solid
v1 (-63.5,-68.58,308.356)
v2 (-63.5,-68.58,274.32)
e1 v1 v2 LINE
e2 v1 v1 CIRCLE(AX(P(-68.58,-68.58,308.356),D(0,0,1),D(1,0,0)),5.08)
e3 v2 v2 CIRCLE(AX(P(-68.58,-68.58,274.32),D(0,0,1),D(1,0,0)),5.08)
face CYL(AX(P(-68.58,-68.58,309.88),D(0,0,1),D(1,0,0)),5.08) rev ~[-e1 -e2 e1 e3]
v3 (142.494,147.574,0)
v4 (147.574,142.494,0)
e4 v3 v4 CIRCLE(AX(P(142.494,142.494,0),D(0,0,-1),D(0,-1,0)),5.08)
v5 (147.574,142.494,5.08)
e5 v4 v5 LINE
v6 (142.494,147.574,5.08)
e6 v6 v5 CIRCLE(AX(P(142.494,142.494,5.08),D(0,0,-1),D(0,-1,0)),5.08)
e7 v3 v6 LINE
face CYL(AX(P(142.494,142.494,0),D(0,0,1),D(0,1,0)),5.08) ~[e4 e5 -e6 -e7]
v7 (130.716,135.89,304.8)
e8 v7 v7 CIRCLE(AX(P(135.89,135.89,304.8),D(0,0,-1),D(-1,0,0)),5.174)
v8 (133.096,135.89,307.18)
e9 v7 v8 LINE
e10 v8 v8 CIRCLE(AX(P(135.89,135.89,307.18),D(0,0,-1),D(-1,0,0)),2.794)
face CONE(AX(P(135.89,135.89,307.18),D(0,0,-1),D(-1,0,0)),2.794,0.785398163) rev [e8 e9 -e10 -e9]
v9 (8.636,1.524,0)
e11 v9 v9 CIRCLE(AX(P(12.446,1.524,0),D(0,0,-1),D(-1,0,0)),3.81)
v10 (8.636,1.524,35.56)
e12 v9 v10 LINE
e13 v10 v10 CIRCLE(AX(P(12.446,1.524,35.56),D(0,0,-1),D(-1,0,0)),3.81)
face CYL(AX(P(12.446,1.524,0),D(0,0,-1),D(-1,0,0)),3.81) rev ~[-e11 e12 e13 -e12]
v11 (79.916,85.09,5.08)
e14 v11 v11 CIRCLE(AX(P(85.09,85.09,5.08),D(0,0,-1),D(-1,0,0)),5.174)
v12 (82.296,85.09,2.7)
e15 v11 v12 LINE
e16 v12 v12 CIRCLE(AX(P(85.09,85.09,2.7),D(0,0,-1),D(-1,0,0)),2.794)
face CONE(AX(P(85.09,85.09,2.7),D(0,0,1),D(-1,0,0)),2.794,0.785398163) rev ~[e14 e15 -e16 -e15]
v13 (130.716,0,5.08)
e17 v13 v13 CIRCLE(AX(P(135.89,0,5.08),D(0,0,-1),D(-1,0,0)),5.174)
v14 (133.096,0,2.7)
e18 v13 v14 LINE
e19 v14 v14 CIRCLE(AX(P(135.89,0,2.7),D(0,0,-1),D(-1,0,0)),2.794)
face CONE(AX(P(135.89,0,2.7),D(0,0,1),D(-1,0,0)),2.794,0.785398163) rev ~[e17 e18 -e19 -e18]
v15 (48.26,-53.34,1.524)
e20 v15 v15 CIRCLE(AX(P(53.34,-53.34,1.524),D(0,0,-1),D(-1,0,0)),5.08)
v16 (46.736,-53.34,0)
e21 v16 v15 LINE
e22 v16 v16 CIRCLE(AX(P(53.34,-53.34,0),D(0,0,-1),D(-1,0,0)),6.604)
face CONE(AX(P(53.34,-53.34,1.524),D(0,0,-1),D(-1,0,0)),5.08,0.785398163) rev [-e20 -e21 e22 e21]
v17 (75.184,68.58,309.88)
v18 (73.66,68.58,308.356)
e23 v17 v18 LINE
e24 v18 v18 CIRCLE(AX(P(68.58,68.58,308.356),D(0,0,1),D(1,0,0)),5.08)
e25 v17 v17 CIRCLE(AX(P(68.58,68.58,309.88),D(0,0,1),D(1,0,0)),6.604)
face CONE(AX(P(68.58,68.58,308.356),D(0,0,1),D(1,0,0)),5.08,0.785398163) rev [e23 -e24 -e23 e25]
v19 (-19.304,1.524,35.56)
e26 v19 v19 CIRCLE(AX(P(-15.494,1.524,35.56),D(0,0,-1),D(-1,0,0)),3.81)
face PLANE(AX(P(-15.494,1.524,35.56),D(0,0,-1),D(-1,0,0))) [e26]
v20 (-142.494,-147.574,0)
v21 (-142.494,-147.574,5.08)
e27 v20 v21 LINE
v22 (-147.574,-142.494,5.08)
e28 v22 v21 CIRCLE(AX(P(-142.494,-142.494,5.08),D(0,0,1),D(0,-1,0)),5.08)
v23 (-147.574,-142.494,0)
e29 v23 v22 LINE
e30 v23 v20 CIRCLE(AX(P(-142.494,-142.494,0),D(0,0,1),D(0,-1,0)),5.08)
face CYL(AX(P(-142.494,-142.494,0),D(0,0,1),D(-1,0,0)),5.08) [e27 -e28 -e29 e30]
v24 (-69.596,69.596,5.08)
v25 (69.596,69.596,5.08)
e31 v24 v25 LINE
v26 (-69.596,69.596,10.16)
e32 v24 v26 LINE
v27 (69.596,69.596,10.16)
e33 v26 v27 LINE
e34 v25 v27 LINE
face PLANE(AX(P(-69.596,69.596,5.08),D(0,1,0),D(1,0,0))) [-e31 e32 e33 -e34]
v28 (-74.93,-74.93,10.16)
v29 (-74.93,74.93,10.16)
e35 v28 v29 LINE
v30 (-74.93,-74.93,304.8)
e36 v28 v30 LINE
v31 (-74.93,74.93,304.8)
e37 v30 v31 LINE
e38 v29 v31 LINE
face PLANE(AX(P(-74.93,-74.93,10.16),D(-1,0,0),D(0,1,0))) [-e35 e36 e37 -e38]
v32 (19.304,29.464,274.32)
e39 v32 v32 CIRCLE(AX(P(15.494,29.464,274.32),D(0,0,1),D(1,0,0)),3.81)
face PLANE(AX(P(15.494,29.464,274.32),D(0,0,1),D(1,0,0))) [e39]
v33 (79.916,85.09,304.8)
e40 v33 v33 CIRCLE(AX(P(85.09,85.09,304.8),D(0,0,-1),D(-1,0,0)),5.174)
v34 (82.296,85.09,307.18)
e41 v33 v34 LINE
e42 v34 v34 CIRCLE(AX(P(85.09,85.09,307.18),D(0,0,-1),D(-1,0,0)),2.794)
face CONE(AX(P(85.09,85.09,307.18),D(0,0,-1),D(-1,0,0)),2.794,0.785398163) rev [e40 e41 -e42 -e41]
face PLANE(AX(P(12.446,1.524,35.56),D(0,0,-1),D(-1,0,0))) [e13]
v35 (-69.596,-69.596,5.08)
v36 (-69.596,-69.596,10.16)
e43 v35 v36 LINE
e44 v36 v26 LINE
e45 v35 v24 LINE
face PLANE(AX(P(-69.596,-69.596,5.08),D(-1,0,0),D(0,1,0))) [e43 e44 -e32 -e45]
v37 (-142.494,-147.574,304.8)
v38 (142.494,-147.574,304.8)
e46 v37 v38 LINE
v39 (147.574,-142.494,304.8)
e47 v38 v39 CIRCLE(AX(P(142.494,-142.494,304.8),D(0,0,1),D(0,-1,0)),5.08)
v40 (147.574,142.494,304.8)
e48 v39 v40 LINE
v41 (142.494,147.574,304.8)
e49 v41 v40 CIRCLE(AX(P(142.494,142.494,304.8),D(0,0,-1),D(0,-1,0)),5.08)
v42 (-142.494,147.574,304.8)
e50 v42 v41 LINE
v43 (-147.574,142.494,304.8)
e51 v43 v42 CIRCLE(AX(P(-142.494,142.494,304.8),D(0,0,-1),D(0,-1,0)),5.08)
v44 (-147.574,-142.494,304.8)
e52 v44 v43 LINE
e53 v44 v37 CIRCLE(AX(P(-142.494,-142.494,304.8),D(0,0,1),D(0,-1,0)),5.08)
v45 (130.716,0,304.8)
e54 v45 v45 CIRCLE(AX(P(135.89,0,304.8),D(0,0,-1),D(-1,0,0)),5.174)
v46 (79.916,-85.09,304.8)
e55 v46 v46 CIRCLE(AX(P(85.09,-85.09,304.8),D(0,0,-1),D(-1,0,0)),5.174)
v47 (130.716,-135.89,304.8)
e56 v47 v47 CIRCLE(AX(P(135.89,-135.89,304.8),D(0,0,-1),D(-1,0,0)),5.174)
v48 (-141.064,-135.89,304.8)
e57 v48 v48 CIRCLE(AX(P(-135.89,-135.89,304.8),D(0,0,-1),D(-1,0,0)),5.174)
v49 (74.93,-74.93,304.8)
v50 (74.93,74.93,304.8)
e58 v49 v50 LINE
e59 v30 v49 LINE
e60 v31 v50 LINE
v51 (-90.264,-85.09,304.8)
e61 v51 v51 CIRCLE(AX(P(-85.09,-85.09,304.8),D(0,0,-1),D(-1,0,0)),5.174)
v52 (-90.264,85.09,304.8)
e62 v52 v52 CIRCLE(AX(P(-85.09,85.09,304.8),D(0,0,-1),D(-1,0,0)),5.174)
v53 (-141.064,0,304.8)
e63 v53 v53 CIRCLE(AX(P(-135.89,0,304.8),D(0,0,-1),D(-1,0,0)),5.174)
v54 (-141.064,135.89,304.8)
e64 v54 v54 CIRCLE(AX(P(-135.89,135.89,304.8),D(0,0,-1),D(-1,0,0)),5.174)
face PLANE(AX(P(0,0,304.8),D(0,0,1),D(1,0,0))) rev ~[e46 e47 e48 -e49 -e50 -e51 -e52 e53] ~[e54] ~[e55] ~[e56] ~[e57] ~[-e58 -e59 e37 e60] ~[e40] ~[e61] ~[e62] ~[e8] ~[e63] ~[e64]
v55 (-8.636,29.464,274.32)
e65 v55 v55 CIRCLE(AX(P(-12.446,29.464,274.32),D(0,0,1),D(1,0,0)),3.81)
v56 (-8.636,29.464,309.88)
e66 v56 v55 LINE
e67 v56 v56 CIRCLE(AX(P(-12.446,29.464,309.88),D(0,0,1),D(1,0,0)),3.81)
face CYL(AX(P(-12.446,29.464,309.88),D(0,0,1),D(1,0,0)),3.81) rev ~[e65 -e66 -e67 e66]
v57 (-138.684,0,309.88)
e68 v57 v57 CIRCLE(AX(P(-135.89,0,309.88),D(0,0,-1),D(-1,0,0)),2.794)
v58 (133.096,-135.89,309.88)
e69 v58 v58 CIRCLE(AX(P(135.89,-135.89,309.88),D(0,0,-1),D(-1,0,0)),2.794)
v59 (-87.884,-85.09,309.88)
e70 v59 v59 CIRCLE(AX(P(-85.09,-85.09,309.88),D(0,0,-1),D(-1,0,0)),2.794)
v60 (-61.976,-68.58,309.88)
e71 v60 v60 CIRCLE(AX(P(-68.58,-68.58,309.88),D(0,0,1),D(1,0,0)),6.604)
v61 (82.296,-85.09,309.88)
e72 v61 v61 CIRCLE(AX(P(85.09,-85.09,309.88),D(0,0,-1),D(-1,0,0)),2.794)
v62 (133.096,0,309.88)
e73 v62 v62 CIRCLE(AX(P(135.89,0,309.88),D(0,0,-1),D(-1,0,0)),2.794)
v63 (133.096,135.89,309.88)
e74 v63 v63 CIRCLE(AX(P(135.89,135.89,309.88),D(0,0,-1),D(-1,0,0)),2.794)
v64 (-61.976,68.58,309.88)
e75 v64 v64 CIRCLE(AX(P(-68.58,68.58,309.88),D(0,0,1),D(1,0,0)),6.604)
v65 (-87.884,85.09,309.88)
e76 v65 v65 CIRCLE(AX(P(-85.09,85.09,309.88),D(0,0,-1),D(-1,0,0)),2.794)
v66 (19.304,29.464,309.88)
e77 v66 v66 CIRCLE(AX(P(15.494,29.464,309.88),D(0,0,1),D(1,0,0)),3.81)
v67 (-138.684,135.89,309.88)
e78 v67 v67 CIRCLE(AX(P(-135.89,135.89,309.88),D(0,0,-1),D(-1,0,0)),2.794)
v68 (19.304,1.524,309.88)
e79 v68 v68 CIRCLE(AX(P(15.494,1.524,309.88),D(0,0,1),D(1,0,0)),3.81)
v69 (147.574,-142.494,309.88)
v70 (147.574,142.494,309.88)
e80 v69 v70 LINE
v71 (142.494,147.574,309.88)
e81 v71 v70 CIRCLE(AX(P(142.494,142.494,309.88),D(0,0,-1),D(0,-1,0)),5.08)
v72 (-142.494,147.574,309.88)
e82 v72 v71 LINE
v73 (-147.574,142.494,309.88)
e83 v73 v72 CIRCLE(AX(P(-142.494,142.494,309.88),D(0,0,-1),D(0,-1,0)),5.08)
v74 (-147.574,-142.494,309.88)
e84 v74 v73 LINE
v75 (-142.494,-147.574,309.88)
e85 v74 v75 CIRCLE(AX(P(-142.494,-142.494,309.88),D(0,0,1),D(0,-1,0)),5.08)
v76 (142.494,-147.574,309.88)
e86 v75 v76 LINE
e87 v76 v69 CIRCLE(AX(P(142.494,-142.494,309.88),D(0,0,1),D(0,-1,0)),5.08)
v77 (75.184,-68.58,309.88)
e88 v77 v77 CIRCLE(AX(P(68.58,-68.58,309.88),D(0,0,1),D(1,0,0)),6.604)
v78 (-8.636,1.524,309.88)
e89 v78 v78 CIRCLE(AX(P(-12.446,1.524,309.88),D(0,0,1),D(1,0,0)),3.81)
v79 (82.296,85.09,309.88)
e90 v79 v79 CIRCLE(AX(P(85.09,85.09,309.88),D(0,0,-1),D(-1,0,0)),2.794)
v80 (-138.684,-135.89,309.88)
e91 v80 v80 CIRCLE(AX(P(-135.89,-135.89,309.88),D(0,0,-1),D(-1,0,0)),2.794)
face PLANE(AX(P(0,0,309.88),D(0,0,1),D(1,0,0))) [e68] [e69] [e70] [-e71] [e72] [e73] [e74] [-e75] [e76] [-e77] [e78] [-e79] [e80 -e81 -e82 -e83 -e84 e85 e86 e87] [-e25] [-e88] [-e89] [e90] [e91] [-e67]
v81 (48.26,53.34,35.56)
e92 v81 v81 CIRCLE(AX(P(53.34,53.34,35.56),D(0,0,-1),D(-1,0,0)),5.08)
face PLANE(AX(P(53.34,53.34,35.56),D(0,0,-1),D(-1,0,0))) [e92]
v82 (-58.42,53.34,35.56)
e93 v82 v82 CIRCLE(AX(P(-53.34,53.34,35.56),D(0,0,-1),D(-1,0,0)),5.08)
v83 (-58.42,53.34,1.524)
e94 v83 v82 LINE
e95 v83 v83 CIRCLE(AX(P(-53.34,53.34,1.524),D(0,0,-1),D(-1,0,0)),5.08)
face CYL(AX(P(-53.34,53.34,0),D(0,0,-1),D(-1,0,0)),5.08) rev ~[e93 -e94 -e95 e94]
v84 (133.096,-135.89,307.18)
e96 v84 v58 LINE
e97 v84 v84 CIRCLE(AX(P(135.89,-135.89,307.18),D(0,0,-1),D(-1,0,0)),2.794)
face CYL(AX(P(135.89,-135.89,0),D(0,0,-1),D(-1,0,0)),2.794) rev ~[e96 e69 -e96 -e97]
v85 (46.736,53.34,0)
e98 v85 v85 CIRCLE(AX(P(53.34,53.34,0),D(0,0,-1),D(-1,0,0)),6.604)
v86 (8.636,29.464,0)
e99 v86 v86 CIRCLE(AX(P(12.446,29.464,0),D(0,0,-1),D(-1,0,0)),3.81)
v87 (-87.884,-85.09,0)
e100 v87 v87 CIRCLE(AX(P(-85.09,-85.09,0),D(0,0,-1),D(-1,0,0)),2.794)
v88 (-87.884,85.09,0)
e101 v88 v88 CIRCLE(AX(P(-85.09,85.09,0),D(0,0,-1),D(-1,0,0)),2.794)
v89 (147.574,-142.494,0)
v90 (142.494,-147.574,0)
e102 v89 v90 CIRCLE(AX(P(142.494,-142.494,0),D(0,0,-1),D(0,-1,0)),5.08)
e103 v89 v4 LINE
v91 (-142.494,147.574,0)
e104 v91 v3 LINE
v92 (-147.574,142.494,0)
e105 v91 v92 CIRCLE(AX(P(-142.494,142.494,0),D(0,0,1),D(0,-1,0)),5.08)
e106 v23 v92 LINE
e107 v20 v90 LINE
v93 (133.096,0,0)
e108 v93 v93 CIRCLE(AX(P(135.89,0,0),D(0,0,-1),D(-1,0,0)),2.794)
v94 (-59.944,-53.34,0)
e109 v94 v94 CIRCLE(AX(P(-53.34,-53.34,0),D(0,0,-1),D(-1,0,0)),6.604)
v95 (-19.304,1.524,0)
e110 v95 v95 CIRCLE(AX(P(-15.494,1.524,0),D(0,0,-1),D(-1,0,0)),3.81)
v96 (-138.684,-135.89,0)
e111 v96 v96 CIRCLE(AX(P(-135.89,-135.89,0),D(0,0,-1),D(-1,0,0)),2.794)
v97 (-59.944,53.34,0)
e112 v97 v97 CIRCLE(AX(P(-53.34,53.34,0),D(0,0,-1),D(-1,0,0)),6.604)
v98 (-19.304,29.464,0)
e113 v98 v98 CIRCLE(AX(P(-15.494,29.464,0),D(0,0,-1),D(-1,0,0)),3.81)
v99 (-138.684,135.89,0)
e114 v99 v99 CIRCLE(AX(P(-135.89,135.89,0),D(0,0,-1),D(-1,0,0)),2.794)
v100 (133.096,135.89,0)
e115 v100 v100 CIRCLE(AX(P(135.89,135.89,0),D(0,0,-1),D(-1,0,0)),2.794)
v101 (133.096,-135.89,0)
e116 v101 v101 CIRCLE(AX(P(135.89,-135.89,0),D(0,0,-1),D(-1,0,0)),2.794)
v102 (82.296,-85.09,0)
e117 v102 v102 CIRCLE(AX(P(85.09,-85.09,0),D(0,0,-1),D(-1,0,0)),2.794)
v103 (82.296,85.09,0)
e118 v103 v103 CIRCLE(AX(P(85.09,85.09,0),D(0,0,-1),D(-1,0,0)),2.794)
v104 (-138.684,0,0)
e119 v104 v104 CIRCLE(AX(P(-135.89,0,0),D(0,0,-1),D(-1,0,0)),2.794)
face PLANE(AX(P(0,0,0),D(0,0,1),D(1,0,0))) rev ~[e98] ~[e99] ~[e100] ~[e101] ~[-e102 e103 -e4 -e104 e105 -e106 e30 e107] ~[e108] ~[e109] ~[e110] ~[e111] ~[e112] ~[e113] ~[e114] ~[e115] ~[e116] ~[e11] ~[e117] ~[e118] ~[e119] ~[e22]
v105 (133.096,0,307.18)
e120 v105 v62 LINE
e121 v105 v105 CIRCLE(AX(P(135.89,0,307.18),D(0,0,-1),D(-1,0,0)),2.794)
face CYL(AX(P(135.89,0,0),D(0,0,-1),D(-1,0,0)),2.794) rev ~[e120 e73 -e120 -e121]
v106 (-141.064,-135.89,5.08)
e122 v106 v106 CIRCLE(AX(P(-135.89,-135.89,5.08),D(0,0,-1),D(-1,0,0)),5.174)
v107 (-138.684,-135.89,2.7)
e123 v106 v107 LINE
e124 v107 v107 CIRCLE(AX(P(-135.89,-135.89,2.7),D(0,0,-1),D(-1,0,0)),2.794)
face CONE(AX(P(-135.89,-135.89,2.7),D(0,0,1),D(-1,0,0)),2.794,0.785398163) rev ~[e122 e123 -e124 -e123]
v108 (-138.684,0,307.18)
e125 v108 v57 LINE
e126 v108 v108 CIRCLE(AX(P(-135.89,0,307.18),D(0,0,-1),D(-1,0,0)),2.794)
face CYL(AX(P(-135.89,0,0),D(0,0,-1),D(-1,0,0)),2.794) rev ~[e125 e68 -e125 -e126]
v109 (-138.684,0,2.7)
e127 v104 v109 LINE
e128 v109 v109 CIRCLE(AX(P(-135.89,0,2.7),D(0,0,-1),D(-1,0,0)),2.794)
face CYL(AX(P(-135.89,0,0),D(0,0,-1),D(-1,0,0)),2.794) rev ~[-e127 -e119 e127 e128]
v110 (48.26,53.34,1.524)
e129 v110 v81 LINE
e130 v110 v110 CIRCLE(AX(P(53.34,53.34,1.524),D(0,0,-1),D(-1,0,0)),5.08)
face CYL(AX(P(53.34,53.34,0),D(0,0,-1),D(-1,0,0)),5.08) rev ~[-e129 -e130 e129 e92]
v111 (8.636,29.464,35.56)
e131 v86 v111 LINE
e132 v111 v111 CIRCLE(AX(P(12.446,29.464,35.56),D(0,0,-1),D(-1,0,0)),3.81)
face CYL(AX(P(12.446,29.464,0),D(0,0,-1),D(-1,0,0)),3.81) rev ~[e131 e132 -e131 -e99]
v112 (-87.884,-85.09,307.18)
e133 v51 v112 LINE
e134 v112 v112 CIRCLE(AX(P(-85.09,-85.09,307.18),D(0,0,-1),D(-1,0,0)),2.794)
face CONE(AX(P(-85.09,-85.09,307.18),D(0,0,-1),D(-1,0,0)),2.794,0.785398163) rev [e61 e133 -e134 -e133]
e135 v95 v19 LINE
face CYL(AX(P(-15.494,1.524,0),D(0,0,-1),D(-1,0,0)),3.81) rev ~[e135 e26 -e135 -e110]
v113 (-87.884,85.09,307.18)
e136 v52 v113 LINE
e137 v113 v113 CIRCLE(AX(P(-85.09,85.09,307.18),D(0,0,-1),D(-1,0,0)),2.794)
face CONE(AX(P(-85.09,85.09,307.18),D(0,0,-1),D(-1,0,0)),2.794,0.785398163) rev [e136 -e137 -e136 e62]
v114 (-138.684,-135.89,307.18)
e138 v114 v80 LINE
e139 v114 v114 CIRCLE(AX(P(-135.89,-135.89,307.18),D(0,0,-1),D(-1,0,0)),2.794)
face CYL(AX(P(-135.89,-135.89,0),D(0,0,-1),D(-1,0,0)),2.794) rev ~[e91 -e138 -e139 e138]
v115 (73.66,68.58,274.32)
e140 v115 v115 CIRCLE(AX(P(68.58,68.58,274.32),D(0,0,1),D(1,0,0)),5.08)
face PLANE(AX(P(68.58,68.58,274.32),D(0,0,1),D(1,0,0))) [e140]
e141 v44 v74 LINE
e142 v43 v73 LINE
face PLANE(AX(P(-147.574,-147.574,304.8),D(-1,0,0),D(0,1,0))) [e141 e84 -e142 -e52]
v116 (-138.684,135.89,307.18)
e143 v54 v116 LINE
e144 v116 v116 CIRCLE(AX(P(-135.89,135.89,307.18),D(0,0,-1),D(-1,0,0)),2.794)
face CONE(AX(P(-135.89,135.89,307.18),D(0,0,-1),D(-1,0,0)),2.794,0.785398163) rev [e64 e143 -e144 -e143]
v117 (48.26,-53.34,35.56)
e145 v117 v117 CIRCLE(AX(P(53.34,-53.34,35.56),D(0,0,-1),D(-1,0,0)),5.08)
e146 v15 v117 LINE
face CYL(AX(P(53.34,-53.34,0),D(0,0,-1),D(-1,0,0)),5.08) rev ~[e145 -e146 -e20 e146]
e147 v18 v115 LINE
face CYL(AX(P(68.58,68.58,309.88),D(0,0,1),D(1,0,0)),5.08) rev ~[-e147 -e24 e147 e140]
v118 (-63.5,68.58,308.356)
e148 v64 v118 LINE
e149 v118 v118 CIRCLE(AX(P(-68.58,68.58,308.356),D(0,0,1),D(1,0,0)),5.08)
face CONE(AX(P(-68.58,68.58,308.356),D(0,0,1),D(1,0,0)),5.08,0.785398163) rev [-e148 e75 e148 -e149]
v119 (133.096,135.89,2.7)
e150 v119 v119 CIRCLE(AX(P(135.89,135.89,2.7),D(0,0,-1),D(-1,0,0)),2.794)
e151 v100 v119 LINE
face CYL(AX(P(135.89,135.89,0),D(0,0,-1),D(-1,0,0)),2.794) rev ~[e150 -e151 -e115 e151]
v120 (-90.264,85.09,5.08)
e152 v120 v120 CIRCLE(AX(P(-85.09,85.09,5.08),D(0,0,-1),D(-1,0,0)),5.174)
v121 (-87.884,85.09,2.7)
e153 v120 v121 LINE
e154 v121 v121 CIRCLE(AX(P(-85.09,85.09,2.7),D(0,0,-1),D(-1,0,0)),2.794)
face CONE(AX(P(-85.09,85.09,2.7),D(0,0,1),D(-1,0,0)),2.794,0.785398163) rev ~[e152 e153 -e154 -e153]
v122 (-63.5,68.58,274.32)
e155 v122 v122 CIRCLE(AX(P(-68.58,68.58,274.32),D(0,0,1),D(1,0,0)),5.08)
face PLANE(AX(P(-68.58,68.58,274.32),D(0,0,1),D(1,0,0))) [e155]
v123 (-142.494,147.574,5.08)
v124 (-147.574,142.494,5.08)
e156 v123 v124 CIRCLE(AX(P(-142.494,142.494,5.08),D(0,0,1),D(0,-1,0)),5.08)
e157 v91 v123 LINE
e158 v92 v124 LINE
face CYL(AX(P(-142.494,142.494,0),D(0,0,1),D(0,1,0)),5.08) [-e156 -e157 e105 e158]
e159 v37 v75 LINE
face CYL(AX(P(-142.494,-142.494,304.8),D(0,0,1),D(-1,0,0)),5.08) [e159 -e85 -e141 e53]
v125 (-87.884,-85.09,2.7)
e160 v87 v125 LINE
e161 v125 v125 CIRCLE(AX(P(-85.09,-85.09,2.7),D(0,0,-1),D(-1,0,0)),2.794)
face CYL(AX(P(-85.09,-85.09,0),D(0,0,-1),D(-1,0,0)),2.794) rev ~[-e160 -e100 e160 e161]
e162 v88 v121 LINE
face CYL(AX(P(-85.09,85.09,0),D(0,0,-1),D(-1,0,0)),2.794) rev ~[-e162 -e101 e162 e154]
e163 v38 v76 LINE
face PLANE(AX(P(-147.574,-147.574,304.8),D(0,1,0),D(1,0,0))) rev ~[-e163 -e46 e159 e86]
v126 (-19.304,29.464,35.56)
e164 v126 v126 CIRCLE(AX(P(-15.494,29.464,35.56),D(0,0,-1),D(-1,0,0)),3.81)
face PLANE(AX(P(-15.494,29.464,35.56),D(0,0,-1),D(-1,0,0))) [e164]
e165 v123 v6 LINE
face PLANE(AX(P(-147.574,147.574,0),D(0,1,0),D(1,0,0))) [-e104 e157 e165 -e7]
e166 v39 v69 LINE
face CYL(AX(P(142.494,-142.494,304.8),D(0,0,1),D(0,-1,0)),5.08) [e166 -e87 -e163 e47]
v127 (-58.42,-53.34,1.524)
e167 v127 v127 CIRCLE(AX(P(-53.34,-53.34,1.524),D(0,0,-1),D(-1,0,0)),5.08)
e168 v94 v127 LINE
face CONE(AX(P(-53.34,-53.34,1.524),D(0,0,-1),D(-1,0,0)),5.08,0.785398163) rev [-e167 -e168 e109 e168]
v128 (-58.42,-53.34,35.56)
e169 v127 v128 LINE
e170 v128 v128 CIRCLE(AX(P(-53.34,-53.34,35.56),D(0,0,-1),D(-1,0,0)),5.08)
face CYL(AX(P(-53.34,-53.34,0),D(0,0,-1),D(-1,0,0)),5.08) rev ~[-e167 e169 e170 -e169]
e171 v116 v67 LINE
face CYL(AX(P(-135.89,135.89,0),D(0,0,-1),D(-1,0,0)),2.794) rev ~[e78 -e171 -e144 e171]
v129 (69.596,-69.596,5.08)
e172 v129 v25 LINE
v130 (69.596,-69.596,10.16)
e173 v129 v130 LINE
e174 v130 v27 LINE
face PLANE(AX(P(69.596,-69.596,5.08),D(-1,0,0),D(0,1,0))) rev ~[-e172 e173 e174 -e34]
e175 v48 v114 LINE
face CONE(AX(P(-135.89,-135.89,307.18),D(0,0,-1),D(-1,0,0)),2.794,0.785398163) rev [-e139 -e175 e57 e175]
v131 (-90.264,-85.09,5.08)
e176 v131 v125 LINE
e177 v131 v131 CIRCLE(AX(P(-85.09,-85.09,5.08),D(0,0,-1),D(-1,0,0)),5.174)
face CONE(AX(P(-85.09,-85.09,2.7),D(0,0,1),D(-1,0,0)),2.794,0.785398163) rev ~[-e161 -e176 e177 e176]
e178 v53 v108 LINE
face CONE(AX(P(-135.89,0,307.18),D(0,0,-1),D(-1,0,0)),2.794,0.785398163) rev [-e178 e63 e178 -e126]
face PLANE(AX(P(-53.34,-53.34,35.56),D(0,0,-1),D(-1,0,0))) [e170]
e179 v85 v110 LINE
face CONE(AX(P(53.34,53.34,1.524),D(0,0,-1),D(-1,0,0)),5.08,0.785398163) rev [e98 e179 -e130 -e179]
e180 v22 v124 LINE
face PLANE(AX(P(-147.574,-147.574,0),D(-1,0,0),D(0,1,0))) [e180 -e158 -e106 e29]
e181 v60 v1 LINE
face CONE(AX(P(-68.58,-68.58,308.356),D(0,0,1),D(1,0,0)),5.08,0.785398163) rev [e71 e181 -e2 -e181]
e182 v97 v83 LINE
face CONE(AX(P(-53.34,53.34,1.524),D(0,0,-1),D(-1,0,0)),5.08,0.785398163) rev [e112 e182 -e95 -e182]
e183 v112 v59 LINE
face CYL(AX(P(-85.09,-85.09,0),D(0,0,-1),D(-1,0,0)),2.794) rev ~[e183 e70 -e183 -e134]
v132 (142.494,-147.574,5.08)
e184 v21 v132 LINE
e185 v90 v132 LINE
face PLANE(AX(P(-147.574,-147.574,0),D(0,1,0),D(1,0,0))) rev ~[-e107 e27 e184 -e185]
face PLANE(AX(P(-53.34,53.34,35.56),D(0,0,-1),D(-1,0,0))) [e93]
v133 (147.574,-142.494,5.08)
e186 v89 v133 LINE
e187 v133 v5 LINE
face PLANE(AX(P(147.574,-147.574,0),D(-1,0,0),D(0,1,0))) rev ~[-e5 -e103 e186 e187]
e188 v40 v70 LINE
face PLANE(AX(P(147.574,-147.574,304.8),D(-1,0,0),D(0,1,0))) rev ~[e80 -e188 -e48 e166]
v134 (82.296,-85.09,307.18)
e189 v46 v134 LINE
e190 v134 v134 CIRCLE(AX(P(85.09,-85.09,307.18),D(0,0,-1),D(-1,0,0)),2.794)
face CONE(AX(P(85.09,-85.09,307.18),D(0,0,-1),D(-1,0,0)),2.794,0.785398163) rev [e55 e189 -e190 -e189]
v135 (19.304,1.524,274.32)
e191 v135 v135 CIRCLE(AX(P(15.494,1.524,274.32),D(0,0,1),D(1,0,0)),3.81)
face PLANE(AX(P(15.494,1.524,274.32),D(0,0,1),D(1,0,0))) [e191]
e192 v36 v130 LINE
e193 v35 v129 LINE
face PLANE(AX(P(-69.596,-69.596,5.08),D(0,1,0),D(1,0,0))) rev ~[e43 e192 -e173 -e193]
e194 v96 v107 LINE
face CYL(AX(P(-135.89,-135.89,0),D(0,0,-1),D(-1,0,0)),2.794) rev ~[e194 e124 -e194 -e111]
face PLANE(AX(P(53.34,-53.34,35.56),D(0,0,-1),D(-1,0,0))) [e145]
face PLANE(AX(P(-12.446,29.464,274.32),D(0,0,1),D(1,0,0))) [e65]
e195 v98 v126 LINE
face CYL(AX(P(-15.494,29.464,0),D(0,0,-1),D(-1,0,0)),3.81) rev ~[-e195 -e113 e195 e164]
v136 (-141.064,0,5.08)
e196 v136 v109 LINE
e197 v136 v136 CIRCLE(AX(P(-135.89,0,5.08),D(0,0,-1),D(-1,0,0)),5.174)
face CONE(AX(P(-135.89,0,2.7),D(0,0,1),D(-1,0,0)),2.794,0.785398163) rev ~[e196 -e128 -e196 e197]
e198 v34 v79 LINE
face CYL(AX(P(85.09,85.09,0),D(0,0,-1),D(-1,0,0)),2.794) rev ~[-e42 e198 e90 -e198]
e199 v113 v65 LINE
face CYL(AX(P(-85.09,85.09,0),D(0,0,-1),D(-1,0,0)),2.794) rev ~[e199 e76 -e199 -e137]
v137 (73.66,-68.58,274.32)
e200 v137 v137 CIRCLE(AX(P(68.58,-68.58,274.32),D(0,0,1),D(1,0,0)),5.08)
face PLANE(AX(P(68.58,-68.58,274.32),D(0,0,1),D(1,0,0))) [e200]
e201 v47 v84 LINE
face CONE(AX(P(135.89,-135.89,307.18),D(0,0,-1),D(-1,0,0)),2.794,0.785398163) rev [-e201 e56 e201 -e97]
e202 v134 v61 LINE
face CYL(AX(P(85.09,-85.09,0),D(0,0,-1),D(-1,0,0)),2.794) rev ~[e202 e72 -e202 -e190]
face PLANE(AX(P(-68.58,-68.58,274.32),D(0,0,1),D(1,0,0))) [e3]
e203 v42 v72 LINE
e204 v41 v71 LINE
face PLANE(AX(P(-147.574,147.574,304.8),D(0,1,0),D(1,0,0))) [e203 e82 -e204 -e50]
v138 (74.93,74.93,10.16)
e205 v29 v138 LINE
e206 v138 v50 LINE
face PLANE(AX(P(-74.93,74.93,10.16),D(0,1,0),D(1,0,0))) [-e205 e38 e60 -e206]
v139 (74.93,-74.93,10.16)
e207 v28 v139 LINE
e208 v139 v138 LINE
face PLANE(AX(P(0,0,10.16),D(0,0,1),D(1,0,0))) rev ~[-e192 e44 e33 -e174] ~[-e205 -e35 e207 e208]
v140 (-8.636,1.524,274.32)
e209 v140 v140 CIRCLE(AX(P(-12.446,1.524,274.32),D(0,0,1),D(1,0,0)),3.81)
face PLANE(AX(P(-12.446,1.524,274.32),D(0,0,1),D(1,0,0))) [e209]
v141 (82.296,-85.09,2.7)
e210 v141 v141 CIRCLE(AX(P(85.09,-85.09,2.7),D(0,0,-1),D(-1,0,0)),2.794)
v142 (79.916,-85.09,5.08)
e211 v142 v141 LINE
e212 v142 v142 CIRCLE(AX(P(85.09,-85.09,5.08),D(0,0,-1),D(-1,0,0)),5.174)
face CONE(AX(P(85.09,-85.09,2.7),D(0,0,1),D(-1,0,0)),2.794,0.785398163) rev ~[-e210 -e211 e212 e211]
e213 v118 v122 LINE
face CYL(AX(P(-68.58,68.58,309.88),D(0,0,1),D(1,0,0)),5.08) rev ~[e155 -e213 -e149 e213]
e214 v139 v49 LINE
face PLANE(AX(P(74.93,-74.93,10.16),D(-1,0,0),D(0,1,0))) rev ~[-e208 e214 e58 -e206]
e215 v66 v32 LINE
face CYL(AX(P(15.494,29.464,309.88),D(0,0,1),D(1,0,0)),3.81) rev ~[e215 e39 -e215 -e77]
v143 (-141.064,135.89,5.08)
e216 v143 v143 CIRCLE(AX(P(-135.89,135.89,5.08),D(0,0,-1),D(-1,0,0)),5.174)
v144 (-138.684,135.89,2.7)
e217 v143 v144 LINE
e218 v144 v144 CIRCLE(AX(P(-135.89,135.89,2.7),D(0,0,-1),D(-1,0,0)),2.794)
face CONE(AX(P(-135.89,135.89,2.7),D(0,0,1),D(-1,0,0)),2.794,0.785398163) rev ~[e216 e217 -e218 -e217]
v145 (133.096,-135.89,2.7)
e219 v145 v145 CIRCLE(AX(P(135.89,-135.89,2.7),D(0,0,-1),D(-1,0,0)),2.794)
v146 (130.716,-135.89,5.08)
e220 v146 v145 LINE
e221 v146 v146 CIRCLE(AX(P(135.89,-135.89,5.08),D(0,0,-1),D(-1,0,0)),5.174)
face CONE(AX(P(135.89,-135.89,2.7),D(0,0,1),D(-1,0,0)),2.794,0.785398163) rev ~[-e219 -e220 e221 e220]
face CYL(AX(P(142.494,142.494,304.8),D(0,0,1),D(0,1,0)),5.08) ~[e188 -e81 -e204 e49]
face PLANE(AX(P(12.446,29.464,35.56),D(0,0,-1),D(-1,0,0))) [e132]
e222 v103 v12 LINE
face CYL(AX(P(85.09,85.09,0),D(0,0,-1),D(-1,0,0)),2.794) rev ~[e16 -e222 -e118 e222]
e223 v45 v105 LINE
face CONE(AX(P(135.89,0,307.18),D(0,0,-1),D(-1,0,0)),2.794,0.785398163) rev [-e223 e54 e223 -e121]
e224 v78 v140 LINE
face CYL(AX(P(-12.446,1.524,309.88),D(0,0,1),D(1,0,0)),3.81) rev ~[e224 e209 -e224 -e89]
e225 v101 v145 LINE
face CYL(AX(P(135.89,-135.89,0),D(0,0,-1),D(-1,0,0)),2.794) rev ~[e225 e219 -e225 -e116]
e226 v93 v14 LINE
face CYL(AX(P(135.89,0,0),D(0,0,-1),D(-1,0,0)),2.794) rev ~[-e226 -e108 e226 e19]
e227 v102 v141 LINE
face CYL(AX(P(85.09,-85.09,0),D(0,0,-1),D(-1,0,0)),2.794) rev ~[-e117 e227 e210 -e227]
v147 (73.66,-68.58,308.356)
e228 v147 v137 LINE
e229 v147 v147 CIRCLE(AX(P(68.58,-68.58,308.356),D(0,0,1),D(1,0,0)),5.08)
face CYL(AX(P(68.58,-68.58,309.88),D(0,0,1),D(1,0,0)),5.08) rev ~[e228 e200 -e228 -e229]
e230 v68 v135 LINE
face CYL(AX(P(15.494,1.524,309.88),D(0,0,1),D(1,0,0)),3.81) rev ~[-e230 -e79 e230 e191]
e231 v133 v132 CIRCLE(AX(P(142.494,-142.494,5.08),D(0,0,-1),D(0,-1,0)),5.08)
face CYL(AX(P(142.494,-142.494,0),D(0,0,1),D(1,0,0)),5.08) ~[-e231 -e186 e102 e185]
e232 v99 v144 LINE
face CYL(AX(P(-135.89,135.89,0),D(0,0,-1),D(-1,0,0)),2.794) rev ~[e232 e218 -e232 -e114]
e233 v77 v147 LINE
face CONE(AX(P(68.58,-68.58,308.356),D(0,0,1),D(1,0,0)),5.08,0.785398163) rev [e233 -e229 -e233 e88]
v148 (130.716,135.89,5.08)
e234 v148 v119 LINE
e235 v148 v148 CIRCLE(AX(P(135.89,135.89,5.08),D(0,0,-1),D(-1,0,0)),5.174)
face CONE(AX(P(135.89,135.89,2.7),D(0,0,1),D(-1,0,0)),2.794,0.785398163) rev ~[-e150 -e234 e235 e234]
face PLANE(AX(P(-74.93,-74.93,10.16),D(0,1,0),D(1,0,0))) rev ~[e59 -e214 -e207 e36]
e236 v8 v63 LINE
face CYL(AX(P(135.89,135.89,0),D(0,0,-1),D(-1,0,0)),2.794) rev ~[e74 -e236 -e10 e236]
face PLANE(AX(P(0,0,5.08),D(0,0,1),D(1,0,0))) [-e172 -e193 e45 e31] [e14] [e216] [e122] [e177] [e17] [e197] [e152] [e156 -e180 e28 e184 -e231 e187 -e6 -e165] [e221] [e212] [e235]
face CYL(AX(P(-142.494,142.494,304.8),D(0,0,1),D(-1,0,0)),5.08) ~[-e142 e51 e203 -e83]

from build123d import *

# Parameters (mm, degrees)
SKETCH1_W           = 295.148
SKETCH1_H           = 295.148
BOSS_EXTRUDE1_DEPTH = 5.08
SKETCH2_W           = 139.192
SKETCH2_H           = 139.192
BOSS_EXTRUDE2_DEPTH = 5.08
SKETCH3_W           = 149.86
SKETCH3_H           = 149.86
BOSS_EXTRUDE3_DEPTH = 294.64
SKETCH4_W           = 295.148
SKETCH4_H           = 295.148
BOSS_EXTRUDE4_DEPTH = 5.08
SKETCH5_R           = 2.794
CUT_EXTRUDE1_DEPTH  = 310.88
CHAMFER1_SIZE       = 2.38
CHAMFER2_SIZE       = 2.38
FILLET1_R           = 5.08
FILLET2_R           = 5.08
SKETCH6_R           = 5.08
CUT_EXTRUDE3_DEPTH  = 35.56
CHAMFER3_SIZE       = 1.524
SKETCH7_R           = 5.08
CUT_EXTRUDE4_DEPTH  = 35.56
CHAMFER5_SIZE       = 1.524
SKETCH8_R           = 3.81
CUT_EXTRUDE5_DEPTH  = 35.56
SKETCH9_R           = 3.81
CUT_EXTRUDE6_DEPTH  = 35.56


with BuildPart() as part:
    # Sketch1 → Boss-Extrude1 (new body)
    with BuildSketch(Plane.XY):
        Rectangle(SKETCH1_W, SKETCH1_H)
    extrude(amount=BOSS_EXTRUDE1_DEPTH)

    # Sketch2 → Boss-Extrude2 (add)
    with BuildSketch(Plane.XY.offset(5.08)):
        Rectangle(SKETCH2_W, SKETCH2_H)
    extrude(amount=BOSS_EXTRUDE2_DEPTH)

    # Sketch3 → Boss-Extrude3 (add)
    with BuildSketch(Plane.XY.offset(10.16)):
        Rectangle(SKETCH3_W, SKETCH3_H)
    extrude(amount=BOSS_EXTRUDE3_DEPTH)

    # Sketch4 → Boss-Extrude4 (add)
    with BuildSketch(Plane.XY.offset(304.8)):
        Rectangle(SKETCH4_W, SKETCH4_H)
    extrude(amount=BOSS_EXTRUDE4_DEPTH)

    # Sketch5 → Cut-Extrude1 (cut, through all)
    with BuildSketch(Plane(origin=(0, 0, 0), x_dir=(-1, 0, 0), z_dir=(0, 0, -1))):
        with Locations((-135.89, 135.89)):
            Circle(SKETCH5_R)
        with Locations((135.89, 135.89)):
            Circle(SKETCH5_R)
        with Locations((135.89, -135.89)):
            Circle(SKETCH5_R)
        with Locations((-135.89, -135.89)):
            Circle(SKETCH5_R)
        with Locations((-135.89, 0)):
            Circle(SKETCH5_R)
        with Locations((135.89, 0)):
            Circle(SKETCH5_R)
        with Locations((-85.09, 85.09)):
            Circle(SKETCH5_R)
        with Locations((85.09, 85.09)):
            Circle(SKETCH5_R)
        with Locations((85.09, -85.09)):
            Circle(SKETCH5_R)
        with Locations((-85.09, -85.09)):
            Circle(SKETCH5_R)
    extrude(amount=-CUT_EXTRUDE1_DEPTH, mode=Mode.SUBTRACT)

    # Chamfer1
    chamfer1_edges = [part.edges().sort_by_distance(p)[0] for p in [
        (138.684, 135.89, 304.8),
    ]]
    chamfer(chamfer1_edges, length=CHAMFER1_SIZE)

    # Chamfer2
    chamfer2_edges = [part.edges().sort_by_distance(p)[0] for p in [
        (138.684, 135.89, 5.08),
        (-133.096, 0, 5.08),
        (-133.096, 0, 304.8),
        (87.884, 85.09, 5.08),
        (87.884, 85.09, 304.8),
        (-82.296, 85.09, 5.08),
        (-82.296, 85.09, 304.8),
        (-82.296, -85.09, 5.08),
        (-82.296, -85.09, 304.8),
        (138.684, 0, 5.08),
        (138.684, 0, 304.8),
        (138.684, -135.89, 5.08),
        (138.684, -135.89, 304.8),
        (-133.096, -135.89, 5.08),
        (-133.096, -135.89, 304.8),
        (-133.096, 135.89, 5.08),
        (-133.096, 135.89, 304.8),
        (87.884, -85.09, 5.08),
        (87.884, -85.09, 304.8),
    ]]
    chamfer(chamfer2_edges, length=CHAMFER2_SIZE)

    # Fillet1
    fillet1_edges = [part.edges().sort_by_distance(p)[0] for p in [
        (147.574, 147.574, 2.54),
    ]]
    fillet(fillet1_edges, radius=FILLET1_R)

    # Fillet2
    fillet2_edges = [part.edges().sort_by_distance(p)[0] for p in [
        (-147.574, 147.574, 307.34),
        (-147.574, -147.574, 307.34),
        (147.574, -147.574, 307.34),
        (147.574, 147.574, 307.34),
        (147.574, -147.574, 2.54),
        (-147.574, -147.574, 2.54),
        (-147.574, 147.574, 2.54),
    ]]
    fillet(fillet2_edges, radius=FILLET2_R)

    # Sketch6 → Cut-Extrude3 (cut)
    with BuildSketch(Plane.XY.offset(309.88)):
        with Locations((-68.58, -68.58)):
            Circle(SKETCH6_R)
        with Locations((-68.58, 68.58)):
            Circle(SKETCH6_R)
        with Locations((68.58, 68.58)):
            Circle(SKETCH6_R)
        with Locations((68.58, -68.58)):
            Circle(SKETCH6_R)
    extrude(amount=-CUT_EXTRUDE3_DEPTH, mode=Mode.SUBTRACT)

    # Chamfer3
    chamfer3_edges = [part.edges().sort_by_distance(p)[0] for p in [
        (63.5, -68.58, 309.88),
        (63.5, 68.58, 309.88),
        (-73.66, 68.58, 309.88),
        (-73.66, -68.58, 309.88),
    ]]
    chamfer(chamfer3_edges, length=CHAMFER3_SIZE)

    # Sketch7 → Cut-Extrude4 (cut)
    with BuildSketch(Plane(origin=(0, 0, 0), x_dir=(-1, 0, 0), z_dir=(0, 0, -1))):
        with Locations((-53.34, 53.34)):
            Circle(SKETCH7_R)
        with Locations((-53.34, -53.34)):
            Circle(SKETCH7_R)
        with Locations((53.34, -53.34)):
            Circle(SKETCH7_R)
        with Locations((53.34, 53.34)):
            Circle(SKETCH7_R)
    extrude(amount=-CUT_EXTRUDE4_DEPTH, mode=Mode.SUBTRACT)

    # Chamfer5
    chamfer5_edges = [part.edges().sort_by_distance(p)[0] for p in [
        (-48.26, 53.34, 0),
        (-48.26, -53.34, 0),
        (58.42, -53.34, 0),
        (58.42, 53.34, 0),
    ]]
    chamfer(chamfer5_edges, length=CHAMFER5_SIZE)

    # Sketch8 → Cut-Extrude5 (cut)
    with BuildSketch(Plane.XY.offset(309.88)):
        with Locations((15.494, 29.464)):
            Circle(SKETCH8_R)
        with Locations((15.494, 1.524)):
            Circle(SKETCH8_R)
        with Locations((-12.446, 1.524)):
            Circle(SKETCH8_R)
        with Locations((-12.446, 29.464)):
            Circle(SKETCH8_R)
    extrude(amount=-CUT_EXTRUDE5_DEPTH, mode=Mode.SUBTRACT)

    # Sketch9 → Cut-Extrude6 (cut)
    with BuildSketch(Plane(origin=(0, 0, 0), x_dir=(-1, 0, 0), z_dir=(0, 0, -1))):
        with Locations((15.494, 29.464)):
            Circle(SKETCH9_R)
        with Locations((15.494, 1.524)):
            Circle(SKETCH9_R)
        with Locations((-12.446, 29.464)):
            Circle(SKETCH9_R)
        with Locations((-12.446, 1.524)):
            Circle(SKETCH9_R)
    extrude(amount=-CUT_EXTRUDE6_DEPTH, mode=Mode.SUBTRACT)


solid = part.part
